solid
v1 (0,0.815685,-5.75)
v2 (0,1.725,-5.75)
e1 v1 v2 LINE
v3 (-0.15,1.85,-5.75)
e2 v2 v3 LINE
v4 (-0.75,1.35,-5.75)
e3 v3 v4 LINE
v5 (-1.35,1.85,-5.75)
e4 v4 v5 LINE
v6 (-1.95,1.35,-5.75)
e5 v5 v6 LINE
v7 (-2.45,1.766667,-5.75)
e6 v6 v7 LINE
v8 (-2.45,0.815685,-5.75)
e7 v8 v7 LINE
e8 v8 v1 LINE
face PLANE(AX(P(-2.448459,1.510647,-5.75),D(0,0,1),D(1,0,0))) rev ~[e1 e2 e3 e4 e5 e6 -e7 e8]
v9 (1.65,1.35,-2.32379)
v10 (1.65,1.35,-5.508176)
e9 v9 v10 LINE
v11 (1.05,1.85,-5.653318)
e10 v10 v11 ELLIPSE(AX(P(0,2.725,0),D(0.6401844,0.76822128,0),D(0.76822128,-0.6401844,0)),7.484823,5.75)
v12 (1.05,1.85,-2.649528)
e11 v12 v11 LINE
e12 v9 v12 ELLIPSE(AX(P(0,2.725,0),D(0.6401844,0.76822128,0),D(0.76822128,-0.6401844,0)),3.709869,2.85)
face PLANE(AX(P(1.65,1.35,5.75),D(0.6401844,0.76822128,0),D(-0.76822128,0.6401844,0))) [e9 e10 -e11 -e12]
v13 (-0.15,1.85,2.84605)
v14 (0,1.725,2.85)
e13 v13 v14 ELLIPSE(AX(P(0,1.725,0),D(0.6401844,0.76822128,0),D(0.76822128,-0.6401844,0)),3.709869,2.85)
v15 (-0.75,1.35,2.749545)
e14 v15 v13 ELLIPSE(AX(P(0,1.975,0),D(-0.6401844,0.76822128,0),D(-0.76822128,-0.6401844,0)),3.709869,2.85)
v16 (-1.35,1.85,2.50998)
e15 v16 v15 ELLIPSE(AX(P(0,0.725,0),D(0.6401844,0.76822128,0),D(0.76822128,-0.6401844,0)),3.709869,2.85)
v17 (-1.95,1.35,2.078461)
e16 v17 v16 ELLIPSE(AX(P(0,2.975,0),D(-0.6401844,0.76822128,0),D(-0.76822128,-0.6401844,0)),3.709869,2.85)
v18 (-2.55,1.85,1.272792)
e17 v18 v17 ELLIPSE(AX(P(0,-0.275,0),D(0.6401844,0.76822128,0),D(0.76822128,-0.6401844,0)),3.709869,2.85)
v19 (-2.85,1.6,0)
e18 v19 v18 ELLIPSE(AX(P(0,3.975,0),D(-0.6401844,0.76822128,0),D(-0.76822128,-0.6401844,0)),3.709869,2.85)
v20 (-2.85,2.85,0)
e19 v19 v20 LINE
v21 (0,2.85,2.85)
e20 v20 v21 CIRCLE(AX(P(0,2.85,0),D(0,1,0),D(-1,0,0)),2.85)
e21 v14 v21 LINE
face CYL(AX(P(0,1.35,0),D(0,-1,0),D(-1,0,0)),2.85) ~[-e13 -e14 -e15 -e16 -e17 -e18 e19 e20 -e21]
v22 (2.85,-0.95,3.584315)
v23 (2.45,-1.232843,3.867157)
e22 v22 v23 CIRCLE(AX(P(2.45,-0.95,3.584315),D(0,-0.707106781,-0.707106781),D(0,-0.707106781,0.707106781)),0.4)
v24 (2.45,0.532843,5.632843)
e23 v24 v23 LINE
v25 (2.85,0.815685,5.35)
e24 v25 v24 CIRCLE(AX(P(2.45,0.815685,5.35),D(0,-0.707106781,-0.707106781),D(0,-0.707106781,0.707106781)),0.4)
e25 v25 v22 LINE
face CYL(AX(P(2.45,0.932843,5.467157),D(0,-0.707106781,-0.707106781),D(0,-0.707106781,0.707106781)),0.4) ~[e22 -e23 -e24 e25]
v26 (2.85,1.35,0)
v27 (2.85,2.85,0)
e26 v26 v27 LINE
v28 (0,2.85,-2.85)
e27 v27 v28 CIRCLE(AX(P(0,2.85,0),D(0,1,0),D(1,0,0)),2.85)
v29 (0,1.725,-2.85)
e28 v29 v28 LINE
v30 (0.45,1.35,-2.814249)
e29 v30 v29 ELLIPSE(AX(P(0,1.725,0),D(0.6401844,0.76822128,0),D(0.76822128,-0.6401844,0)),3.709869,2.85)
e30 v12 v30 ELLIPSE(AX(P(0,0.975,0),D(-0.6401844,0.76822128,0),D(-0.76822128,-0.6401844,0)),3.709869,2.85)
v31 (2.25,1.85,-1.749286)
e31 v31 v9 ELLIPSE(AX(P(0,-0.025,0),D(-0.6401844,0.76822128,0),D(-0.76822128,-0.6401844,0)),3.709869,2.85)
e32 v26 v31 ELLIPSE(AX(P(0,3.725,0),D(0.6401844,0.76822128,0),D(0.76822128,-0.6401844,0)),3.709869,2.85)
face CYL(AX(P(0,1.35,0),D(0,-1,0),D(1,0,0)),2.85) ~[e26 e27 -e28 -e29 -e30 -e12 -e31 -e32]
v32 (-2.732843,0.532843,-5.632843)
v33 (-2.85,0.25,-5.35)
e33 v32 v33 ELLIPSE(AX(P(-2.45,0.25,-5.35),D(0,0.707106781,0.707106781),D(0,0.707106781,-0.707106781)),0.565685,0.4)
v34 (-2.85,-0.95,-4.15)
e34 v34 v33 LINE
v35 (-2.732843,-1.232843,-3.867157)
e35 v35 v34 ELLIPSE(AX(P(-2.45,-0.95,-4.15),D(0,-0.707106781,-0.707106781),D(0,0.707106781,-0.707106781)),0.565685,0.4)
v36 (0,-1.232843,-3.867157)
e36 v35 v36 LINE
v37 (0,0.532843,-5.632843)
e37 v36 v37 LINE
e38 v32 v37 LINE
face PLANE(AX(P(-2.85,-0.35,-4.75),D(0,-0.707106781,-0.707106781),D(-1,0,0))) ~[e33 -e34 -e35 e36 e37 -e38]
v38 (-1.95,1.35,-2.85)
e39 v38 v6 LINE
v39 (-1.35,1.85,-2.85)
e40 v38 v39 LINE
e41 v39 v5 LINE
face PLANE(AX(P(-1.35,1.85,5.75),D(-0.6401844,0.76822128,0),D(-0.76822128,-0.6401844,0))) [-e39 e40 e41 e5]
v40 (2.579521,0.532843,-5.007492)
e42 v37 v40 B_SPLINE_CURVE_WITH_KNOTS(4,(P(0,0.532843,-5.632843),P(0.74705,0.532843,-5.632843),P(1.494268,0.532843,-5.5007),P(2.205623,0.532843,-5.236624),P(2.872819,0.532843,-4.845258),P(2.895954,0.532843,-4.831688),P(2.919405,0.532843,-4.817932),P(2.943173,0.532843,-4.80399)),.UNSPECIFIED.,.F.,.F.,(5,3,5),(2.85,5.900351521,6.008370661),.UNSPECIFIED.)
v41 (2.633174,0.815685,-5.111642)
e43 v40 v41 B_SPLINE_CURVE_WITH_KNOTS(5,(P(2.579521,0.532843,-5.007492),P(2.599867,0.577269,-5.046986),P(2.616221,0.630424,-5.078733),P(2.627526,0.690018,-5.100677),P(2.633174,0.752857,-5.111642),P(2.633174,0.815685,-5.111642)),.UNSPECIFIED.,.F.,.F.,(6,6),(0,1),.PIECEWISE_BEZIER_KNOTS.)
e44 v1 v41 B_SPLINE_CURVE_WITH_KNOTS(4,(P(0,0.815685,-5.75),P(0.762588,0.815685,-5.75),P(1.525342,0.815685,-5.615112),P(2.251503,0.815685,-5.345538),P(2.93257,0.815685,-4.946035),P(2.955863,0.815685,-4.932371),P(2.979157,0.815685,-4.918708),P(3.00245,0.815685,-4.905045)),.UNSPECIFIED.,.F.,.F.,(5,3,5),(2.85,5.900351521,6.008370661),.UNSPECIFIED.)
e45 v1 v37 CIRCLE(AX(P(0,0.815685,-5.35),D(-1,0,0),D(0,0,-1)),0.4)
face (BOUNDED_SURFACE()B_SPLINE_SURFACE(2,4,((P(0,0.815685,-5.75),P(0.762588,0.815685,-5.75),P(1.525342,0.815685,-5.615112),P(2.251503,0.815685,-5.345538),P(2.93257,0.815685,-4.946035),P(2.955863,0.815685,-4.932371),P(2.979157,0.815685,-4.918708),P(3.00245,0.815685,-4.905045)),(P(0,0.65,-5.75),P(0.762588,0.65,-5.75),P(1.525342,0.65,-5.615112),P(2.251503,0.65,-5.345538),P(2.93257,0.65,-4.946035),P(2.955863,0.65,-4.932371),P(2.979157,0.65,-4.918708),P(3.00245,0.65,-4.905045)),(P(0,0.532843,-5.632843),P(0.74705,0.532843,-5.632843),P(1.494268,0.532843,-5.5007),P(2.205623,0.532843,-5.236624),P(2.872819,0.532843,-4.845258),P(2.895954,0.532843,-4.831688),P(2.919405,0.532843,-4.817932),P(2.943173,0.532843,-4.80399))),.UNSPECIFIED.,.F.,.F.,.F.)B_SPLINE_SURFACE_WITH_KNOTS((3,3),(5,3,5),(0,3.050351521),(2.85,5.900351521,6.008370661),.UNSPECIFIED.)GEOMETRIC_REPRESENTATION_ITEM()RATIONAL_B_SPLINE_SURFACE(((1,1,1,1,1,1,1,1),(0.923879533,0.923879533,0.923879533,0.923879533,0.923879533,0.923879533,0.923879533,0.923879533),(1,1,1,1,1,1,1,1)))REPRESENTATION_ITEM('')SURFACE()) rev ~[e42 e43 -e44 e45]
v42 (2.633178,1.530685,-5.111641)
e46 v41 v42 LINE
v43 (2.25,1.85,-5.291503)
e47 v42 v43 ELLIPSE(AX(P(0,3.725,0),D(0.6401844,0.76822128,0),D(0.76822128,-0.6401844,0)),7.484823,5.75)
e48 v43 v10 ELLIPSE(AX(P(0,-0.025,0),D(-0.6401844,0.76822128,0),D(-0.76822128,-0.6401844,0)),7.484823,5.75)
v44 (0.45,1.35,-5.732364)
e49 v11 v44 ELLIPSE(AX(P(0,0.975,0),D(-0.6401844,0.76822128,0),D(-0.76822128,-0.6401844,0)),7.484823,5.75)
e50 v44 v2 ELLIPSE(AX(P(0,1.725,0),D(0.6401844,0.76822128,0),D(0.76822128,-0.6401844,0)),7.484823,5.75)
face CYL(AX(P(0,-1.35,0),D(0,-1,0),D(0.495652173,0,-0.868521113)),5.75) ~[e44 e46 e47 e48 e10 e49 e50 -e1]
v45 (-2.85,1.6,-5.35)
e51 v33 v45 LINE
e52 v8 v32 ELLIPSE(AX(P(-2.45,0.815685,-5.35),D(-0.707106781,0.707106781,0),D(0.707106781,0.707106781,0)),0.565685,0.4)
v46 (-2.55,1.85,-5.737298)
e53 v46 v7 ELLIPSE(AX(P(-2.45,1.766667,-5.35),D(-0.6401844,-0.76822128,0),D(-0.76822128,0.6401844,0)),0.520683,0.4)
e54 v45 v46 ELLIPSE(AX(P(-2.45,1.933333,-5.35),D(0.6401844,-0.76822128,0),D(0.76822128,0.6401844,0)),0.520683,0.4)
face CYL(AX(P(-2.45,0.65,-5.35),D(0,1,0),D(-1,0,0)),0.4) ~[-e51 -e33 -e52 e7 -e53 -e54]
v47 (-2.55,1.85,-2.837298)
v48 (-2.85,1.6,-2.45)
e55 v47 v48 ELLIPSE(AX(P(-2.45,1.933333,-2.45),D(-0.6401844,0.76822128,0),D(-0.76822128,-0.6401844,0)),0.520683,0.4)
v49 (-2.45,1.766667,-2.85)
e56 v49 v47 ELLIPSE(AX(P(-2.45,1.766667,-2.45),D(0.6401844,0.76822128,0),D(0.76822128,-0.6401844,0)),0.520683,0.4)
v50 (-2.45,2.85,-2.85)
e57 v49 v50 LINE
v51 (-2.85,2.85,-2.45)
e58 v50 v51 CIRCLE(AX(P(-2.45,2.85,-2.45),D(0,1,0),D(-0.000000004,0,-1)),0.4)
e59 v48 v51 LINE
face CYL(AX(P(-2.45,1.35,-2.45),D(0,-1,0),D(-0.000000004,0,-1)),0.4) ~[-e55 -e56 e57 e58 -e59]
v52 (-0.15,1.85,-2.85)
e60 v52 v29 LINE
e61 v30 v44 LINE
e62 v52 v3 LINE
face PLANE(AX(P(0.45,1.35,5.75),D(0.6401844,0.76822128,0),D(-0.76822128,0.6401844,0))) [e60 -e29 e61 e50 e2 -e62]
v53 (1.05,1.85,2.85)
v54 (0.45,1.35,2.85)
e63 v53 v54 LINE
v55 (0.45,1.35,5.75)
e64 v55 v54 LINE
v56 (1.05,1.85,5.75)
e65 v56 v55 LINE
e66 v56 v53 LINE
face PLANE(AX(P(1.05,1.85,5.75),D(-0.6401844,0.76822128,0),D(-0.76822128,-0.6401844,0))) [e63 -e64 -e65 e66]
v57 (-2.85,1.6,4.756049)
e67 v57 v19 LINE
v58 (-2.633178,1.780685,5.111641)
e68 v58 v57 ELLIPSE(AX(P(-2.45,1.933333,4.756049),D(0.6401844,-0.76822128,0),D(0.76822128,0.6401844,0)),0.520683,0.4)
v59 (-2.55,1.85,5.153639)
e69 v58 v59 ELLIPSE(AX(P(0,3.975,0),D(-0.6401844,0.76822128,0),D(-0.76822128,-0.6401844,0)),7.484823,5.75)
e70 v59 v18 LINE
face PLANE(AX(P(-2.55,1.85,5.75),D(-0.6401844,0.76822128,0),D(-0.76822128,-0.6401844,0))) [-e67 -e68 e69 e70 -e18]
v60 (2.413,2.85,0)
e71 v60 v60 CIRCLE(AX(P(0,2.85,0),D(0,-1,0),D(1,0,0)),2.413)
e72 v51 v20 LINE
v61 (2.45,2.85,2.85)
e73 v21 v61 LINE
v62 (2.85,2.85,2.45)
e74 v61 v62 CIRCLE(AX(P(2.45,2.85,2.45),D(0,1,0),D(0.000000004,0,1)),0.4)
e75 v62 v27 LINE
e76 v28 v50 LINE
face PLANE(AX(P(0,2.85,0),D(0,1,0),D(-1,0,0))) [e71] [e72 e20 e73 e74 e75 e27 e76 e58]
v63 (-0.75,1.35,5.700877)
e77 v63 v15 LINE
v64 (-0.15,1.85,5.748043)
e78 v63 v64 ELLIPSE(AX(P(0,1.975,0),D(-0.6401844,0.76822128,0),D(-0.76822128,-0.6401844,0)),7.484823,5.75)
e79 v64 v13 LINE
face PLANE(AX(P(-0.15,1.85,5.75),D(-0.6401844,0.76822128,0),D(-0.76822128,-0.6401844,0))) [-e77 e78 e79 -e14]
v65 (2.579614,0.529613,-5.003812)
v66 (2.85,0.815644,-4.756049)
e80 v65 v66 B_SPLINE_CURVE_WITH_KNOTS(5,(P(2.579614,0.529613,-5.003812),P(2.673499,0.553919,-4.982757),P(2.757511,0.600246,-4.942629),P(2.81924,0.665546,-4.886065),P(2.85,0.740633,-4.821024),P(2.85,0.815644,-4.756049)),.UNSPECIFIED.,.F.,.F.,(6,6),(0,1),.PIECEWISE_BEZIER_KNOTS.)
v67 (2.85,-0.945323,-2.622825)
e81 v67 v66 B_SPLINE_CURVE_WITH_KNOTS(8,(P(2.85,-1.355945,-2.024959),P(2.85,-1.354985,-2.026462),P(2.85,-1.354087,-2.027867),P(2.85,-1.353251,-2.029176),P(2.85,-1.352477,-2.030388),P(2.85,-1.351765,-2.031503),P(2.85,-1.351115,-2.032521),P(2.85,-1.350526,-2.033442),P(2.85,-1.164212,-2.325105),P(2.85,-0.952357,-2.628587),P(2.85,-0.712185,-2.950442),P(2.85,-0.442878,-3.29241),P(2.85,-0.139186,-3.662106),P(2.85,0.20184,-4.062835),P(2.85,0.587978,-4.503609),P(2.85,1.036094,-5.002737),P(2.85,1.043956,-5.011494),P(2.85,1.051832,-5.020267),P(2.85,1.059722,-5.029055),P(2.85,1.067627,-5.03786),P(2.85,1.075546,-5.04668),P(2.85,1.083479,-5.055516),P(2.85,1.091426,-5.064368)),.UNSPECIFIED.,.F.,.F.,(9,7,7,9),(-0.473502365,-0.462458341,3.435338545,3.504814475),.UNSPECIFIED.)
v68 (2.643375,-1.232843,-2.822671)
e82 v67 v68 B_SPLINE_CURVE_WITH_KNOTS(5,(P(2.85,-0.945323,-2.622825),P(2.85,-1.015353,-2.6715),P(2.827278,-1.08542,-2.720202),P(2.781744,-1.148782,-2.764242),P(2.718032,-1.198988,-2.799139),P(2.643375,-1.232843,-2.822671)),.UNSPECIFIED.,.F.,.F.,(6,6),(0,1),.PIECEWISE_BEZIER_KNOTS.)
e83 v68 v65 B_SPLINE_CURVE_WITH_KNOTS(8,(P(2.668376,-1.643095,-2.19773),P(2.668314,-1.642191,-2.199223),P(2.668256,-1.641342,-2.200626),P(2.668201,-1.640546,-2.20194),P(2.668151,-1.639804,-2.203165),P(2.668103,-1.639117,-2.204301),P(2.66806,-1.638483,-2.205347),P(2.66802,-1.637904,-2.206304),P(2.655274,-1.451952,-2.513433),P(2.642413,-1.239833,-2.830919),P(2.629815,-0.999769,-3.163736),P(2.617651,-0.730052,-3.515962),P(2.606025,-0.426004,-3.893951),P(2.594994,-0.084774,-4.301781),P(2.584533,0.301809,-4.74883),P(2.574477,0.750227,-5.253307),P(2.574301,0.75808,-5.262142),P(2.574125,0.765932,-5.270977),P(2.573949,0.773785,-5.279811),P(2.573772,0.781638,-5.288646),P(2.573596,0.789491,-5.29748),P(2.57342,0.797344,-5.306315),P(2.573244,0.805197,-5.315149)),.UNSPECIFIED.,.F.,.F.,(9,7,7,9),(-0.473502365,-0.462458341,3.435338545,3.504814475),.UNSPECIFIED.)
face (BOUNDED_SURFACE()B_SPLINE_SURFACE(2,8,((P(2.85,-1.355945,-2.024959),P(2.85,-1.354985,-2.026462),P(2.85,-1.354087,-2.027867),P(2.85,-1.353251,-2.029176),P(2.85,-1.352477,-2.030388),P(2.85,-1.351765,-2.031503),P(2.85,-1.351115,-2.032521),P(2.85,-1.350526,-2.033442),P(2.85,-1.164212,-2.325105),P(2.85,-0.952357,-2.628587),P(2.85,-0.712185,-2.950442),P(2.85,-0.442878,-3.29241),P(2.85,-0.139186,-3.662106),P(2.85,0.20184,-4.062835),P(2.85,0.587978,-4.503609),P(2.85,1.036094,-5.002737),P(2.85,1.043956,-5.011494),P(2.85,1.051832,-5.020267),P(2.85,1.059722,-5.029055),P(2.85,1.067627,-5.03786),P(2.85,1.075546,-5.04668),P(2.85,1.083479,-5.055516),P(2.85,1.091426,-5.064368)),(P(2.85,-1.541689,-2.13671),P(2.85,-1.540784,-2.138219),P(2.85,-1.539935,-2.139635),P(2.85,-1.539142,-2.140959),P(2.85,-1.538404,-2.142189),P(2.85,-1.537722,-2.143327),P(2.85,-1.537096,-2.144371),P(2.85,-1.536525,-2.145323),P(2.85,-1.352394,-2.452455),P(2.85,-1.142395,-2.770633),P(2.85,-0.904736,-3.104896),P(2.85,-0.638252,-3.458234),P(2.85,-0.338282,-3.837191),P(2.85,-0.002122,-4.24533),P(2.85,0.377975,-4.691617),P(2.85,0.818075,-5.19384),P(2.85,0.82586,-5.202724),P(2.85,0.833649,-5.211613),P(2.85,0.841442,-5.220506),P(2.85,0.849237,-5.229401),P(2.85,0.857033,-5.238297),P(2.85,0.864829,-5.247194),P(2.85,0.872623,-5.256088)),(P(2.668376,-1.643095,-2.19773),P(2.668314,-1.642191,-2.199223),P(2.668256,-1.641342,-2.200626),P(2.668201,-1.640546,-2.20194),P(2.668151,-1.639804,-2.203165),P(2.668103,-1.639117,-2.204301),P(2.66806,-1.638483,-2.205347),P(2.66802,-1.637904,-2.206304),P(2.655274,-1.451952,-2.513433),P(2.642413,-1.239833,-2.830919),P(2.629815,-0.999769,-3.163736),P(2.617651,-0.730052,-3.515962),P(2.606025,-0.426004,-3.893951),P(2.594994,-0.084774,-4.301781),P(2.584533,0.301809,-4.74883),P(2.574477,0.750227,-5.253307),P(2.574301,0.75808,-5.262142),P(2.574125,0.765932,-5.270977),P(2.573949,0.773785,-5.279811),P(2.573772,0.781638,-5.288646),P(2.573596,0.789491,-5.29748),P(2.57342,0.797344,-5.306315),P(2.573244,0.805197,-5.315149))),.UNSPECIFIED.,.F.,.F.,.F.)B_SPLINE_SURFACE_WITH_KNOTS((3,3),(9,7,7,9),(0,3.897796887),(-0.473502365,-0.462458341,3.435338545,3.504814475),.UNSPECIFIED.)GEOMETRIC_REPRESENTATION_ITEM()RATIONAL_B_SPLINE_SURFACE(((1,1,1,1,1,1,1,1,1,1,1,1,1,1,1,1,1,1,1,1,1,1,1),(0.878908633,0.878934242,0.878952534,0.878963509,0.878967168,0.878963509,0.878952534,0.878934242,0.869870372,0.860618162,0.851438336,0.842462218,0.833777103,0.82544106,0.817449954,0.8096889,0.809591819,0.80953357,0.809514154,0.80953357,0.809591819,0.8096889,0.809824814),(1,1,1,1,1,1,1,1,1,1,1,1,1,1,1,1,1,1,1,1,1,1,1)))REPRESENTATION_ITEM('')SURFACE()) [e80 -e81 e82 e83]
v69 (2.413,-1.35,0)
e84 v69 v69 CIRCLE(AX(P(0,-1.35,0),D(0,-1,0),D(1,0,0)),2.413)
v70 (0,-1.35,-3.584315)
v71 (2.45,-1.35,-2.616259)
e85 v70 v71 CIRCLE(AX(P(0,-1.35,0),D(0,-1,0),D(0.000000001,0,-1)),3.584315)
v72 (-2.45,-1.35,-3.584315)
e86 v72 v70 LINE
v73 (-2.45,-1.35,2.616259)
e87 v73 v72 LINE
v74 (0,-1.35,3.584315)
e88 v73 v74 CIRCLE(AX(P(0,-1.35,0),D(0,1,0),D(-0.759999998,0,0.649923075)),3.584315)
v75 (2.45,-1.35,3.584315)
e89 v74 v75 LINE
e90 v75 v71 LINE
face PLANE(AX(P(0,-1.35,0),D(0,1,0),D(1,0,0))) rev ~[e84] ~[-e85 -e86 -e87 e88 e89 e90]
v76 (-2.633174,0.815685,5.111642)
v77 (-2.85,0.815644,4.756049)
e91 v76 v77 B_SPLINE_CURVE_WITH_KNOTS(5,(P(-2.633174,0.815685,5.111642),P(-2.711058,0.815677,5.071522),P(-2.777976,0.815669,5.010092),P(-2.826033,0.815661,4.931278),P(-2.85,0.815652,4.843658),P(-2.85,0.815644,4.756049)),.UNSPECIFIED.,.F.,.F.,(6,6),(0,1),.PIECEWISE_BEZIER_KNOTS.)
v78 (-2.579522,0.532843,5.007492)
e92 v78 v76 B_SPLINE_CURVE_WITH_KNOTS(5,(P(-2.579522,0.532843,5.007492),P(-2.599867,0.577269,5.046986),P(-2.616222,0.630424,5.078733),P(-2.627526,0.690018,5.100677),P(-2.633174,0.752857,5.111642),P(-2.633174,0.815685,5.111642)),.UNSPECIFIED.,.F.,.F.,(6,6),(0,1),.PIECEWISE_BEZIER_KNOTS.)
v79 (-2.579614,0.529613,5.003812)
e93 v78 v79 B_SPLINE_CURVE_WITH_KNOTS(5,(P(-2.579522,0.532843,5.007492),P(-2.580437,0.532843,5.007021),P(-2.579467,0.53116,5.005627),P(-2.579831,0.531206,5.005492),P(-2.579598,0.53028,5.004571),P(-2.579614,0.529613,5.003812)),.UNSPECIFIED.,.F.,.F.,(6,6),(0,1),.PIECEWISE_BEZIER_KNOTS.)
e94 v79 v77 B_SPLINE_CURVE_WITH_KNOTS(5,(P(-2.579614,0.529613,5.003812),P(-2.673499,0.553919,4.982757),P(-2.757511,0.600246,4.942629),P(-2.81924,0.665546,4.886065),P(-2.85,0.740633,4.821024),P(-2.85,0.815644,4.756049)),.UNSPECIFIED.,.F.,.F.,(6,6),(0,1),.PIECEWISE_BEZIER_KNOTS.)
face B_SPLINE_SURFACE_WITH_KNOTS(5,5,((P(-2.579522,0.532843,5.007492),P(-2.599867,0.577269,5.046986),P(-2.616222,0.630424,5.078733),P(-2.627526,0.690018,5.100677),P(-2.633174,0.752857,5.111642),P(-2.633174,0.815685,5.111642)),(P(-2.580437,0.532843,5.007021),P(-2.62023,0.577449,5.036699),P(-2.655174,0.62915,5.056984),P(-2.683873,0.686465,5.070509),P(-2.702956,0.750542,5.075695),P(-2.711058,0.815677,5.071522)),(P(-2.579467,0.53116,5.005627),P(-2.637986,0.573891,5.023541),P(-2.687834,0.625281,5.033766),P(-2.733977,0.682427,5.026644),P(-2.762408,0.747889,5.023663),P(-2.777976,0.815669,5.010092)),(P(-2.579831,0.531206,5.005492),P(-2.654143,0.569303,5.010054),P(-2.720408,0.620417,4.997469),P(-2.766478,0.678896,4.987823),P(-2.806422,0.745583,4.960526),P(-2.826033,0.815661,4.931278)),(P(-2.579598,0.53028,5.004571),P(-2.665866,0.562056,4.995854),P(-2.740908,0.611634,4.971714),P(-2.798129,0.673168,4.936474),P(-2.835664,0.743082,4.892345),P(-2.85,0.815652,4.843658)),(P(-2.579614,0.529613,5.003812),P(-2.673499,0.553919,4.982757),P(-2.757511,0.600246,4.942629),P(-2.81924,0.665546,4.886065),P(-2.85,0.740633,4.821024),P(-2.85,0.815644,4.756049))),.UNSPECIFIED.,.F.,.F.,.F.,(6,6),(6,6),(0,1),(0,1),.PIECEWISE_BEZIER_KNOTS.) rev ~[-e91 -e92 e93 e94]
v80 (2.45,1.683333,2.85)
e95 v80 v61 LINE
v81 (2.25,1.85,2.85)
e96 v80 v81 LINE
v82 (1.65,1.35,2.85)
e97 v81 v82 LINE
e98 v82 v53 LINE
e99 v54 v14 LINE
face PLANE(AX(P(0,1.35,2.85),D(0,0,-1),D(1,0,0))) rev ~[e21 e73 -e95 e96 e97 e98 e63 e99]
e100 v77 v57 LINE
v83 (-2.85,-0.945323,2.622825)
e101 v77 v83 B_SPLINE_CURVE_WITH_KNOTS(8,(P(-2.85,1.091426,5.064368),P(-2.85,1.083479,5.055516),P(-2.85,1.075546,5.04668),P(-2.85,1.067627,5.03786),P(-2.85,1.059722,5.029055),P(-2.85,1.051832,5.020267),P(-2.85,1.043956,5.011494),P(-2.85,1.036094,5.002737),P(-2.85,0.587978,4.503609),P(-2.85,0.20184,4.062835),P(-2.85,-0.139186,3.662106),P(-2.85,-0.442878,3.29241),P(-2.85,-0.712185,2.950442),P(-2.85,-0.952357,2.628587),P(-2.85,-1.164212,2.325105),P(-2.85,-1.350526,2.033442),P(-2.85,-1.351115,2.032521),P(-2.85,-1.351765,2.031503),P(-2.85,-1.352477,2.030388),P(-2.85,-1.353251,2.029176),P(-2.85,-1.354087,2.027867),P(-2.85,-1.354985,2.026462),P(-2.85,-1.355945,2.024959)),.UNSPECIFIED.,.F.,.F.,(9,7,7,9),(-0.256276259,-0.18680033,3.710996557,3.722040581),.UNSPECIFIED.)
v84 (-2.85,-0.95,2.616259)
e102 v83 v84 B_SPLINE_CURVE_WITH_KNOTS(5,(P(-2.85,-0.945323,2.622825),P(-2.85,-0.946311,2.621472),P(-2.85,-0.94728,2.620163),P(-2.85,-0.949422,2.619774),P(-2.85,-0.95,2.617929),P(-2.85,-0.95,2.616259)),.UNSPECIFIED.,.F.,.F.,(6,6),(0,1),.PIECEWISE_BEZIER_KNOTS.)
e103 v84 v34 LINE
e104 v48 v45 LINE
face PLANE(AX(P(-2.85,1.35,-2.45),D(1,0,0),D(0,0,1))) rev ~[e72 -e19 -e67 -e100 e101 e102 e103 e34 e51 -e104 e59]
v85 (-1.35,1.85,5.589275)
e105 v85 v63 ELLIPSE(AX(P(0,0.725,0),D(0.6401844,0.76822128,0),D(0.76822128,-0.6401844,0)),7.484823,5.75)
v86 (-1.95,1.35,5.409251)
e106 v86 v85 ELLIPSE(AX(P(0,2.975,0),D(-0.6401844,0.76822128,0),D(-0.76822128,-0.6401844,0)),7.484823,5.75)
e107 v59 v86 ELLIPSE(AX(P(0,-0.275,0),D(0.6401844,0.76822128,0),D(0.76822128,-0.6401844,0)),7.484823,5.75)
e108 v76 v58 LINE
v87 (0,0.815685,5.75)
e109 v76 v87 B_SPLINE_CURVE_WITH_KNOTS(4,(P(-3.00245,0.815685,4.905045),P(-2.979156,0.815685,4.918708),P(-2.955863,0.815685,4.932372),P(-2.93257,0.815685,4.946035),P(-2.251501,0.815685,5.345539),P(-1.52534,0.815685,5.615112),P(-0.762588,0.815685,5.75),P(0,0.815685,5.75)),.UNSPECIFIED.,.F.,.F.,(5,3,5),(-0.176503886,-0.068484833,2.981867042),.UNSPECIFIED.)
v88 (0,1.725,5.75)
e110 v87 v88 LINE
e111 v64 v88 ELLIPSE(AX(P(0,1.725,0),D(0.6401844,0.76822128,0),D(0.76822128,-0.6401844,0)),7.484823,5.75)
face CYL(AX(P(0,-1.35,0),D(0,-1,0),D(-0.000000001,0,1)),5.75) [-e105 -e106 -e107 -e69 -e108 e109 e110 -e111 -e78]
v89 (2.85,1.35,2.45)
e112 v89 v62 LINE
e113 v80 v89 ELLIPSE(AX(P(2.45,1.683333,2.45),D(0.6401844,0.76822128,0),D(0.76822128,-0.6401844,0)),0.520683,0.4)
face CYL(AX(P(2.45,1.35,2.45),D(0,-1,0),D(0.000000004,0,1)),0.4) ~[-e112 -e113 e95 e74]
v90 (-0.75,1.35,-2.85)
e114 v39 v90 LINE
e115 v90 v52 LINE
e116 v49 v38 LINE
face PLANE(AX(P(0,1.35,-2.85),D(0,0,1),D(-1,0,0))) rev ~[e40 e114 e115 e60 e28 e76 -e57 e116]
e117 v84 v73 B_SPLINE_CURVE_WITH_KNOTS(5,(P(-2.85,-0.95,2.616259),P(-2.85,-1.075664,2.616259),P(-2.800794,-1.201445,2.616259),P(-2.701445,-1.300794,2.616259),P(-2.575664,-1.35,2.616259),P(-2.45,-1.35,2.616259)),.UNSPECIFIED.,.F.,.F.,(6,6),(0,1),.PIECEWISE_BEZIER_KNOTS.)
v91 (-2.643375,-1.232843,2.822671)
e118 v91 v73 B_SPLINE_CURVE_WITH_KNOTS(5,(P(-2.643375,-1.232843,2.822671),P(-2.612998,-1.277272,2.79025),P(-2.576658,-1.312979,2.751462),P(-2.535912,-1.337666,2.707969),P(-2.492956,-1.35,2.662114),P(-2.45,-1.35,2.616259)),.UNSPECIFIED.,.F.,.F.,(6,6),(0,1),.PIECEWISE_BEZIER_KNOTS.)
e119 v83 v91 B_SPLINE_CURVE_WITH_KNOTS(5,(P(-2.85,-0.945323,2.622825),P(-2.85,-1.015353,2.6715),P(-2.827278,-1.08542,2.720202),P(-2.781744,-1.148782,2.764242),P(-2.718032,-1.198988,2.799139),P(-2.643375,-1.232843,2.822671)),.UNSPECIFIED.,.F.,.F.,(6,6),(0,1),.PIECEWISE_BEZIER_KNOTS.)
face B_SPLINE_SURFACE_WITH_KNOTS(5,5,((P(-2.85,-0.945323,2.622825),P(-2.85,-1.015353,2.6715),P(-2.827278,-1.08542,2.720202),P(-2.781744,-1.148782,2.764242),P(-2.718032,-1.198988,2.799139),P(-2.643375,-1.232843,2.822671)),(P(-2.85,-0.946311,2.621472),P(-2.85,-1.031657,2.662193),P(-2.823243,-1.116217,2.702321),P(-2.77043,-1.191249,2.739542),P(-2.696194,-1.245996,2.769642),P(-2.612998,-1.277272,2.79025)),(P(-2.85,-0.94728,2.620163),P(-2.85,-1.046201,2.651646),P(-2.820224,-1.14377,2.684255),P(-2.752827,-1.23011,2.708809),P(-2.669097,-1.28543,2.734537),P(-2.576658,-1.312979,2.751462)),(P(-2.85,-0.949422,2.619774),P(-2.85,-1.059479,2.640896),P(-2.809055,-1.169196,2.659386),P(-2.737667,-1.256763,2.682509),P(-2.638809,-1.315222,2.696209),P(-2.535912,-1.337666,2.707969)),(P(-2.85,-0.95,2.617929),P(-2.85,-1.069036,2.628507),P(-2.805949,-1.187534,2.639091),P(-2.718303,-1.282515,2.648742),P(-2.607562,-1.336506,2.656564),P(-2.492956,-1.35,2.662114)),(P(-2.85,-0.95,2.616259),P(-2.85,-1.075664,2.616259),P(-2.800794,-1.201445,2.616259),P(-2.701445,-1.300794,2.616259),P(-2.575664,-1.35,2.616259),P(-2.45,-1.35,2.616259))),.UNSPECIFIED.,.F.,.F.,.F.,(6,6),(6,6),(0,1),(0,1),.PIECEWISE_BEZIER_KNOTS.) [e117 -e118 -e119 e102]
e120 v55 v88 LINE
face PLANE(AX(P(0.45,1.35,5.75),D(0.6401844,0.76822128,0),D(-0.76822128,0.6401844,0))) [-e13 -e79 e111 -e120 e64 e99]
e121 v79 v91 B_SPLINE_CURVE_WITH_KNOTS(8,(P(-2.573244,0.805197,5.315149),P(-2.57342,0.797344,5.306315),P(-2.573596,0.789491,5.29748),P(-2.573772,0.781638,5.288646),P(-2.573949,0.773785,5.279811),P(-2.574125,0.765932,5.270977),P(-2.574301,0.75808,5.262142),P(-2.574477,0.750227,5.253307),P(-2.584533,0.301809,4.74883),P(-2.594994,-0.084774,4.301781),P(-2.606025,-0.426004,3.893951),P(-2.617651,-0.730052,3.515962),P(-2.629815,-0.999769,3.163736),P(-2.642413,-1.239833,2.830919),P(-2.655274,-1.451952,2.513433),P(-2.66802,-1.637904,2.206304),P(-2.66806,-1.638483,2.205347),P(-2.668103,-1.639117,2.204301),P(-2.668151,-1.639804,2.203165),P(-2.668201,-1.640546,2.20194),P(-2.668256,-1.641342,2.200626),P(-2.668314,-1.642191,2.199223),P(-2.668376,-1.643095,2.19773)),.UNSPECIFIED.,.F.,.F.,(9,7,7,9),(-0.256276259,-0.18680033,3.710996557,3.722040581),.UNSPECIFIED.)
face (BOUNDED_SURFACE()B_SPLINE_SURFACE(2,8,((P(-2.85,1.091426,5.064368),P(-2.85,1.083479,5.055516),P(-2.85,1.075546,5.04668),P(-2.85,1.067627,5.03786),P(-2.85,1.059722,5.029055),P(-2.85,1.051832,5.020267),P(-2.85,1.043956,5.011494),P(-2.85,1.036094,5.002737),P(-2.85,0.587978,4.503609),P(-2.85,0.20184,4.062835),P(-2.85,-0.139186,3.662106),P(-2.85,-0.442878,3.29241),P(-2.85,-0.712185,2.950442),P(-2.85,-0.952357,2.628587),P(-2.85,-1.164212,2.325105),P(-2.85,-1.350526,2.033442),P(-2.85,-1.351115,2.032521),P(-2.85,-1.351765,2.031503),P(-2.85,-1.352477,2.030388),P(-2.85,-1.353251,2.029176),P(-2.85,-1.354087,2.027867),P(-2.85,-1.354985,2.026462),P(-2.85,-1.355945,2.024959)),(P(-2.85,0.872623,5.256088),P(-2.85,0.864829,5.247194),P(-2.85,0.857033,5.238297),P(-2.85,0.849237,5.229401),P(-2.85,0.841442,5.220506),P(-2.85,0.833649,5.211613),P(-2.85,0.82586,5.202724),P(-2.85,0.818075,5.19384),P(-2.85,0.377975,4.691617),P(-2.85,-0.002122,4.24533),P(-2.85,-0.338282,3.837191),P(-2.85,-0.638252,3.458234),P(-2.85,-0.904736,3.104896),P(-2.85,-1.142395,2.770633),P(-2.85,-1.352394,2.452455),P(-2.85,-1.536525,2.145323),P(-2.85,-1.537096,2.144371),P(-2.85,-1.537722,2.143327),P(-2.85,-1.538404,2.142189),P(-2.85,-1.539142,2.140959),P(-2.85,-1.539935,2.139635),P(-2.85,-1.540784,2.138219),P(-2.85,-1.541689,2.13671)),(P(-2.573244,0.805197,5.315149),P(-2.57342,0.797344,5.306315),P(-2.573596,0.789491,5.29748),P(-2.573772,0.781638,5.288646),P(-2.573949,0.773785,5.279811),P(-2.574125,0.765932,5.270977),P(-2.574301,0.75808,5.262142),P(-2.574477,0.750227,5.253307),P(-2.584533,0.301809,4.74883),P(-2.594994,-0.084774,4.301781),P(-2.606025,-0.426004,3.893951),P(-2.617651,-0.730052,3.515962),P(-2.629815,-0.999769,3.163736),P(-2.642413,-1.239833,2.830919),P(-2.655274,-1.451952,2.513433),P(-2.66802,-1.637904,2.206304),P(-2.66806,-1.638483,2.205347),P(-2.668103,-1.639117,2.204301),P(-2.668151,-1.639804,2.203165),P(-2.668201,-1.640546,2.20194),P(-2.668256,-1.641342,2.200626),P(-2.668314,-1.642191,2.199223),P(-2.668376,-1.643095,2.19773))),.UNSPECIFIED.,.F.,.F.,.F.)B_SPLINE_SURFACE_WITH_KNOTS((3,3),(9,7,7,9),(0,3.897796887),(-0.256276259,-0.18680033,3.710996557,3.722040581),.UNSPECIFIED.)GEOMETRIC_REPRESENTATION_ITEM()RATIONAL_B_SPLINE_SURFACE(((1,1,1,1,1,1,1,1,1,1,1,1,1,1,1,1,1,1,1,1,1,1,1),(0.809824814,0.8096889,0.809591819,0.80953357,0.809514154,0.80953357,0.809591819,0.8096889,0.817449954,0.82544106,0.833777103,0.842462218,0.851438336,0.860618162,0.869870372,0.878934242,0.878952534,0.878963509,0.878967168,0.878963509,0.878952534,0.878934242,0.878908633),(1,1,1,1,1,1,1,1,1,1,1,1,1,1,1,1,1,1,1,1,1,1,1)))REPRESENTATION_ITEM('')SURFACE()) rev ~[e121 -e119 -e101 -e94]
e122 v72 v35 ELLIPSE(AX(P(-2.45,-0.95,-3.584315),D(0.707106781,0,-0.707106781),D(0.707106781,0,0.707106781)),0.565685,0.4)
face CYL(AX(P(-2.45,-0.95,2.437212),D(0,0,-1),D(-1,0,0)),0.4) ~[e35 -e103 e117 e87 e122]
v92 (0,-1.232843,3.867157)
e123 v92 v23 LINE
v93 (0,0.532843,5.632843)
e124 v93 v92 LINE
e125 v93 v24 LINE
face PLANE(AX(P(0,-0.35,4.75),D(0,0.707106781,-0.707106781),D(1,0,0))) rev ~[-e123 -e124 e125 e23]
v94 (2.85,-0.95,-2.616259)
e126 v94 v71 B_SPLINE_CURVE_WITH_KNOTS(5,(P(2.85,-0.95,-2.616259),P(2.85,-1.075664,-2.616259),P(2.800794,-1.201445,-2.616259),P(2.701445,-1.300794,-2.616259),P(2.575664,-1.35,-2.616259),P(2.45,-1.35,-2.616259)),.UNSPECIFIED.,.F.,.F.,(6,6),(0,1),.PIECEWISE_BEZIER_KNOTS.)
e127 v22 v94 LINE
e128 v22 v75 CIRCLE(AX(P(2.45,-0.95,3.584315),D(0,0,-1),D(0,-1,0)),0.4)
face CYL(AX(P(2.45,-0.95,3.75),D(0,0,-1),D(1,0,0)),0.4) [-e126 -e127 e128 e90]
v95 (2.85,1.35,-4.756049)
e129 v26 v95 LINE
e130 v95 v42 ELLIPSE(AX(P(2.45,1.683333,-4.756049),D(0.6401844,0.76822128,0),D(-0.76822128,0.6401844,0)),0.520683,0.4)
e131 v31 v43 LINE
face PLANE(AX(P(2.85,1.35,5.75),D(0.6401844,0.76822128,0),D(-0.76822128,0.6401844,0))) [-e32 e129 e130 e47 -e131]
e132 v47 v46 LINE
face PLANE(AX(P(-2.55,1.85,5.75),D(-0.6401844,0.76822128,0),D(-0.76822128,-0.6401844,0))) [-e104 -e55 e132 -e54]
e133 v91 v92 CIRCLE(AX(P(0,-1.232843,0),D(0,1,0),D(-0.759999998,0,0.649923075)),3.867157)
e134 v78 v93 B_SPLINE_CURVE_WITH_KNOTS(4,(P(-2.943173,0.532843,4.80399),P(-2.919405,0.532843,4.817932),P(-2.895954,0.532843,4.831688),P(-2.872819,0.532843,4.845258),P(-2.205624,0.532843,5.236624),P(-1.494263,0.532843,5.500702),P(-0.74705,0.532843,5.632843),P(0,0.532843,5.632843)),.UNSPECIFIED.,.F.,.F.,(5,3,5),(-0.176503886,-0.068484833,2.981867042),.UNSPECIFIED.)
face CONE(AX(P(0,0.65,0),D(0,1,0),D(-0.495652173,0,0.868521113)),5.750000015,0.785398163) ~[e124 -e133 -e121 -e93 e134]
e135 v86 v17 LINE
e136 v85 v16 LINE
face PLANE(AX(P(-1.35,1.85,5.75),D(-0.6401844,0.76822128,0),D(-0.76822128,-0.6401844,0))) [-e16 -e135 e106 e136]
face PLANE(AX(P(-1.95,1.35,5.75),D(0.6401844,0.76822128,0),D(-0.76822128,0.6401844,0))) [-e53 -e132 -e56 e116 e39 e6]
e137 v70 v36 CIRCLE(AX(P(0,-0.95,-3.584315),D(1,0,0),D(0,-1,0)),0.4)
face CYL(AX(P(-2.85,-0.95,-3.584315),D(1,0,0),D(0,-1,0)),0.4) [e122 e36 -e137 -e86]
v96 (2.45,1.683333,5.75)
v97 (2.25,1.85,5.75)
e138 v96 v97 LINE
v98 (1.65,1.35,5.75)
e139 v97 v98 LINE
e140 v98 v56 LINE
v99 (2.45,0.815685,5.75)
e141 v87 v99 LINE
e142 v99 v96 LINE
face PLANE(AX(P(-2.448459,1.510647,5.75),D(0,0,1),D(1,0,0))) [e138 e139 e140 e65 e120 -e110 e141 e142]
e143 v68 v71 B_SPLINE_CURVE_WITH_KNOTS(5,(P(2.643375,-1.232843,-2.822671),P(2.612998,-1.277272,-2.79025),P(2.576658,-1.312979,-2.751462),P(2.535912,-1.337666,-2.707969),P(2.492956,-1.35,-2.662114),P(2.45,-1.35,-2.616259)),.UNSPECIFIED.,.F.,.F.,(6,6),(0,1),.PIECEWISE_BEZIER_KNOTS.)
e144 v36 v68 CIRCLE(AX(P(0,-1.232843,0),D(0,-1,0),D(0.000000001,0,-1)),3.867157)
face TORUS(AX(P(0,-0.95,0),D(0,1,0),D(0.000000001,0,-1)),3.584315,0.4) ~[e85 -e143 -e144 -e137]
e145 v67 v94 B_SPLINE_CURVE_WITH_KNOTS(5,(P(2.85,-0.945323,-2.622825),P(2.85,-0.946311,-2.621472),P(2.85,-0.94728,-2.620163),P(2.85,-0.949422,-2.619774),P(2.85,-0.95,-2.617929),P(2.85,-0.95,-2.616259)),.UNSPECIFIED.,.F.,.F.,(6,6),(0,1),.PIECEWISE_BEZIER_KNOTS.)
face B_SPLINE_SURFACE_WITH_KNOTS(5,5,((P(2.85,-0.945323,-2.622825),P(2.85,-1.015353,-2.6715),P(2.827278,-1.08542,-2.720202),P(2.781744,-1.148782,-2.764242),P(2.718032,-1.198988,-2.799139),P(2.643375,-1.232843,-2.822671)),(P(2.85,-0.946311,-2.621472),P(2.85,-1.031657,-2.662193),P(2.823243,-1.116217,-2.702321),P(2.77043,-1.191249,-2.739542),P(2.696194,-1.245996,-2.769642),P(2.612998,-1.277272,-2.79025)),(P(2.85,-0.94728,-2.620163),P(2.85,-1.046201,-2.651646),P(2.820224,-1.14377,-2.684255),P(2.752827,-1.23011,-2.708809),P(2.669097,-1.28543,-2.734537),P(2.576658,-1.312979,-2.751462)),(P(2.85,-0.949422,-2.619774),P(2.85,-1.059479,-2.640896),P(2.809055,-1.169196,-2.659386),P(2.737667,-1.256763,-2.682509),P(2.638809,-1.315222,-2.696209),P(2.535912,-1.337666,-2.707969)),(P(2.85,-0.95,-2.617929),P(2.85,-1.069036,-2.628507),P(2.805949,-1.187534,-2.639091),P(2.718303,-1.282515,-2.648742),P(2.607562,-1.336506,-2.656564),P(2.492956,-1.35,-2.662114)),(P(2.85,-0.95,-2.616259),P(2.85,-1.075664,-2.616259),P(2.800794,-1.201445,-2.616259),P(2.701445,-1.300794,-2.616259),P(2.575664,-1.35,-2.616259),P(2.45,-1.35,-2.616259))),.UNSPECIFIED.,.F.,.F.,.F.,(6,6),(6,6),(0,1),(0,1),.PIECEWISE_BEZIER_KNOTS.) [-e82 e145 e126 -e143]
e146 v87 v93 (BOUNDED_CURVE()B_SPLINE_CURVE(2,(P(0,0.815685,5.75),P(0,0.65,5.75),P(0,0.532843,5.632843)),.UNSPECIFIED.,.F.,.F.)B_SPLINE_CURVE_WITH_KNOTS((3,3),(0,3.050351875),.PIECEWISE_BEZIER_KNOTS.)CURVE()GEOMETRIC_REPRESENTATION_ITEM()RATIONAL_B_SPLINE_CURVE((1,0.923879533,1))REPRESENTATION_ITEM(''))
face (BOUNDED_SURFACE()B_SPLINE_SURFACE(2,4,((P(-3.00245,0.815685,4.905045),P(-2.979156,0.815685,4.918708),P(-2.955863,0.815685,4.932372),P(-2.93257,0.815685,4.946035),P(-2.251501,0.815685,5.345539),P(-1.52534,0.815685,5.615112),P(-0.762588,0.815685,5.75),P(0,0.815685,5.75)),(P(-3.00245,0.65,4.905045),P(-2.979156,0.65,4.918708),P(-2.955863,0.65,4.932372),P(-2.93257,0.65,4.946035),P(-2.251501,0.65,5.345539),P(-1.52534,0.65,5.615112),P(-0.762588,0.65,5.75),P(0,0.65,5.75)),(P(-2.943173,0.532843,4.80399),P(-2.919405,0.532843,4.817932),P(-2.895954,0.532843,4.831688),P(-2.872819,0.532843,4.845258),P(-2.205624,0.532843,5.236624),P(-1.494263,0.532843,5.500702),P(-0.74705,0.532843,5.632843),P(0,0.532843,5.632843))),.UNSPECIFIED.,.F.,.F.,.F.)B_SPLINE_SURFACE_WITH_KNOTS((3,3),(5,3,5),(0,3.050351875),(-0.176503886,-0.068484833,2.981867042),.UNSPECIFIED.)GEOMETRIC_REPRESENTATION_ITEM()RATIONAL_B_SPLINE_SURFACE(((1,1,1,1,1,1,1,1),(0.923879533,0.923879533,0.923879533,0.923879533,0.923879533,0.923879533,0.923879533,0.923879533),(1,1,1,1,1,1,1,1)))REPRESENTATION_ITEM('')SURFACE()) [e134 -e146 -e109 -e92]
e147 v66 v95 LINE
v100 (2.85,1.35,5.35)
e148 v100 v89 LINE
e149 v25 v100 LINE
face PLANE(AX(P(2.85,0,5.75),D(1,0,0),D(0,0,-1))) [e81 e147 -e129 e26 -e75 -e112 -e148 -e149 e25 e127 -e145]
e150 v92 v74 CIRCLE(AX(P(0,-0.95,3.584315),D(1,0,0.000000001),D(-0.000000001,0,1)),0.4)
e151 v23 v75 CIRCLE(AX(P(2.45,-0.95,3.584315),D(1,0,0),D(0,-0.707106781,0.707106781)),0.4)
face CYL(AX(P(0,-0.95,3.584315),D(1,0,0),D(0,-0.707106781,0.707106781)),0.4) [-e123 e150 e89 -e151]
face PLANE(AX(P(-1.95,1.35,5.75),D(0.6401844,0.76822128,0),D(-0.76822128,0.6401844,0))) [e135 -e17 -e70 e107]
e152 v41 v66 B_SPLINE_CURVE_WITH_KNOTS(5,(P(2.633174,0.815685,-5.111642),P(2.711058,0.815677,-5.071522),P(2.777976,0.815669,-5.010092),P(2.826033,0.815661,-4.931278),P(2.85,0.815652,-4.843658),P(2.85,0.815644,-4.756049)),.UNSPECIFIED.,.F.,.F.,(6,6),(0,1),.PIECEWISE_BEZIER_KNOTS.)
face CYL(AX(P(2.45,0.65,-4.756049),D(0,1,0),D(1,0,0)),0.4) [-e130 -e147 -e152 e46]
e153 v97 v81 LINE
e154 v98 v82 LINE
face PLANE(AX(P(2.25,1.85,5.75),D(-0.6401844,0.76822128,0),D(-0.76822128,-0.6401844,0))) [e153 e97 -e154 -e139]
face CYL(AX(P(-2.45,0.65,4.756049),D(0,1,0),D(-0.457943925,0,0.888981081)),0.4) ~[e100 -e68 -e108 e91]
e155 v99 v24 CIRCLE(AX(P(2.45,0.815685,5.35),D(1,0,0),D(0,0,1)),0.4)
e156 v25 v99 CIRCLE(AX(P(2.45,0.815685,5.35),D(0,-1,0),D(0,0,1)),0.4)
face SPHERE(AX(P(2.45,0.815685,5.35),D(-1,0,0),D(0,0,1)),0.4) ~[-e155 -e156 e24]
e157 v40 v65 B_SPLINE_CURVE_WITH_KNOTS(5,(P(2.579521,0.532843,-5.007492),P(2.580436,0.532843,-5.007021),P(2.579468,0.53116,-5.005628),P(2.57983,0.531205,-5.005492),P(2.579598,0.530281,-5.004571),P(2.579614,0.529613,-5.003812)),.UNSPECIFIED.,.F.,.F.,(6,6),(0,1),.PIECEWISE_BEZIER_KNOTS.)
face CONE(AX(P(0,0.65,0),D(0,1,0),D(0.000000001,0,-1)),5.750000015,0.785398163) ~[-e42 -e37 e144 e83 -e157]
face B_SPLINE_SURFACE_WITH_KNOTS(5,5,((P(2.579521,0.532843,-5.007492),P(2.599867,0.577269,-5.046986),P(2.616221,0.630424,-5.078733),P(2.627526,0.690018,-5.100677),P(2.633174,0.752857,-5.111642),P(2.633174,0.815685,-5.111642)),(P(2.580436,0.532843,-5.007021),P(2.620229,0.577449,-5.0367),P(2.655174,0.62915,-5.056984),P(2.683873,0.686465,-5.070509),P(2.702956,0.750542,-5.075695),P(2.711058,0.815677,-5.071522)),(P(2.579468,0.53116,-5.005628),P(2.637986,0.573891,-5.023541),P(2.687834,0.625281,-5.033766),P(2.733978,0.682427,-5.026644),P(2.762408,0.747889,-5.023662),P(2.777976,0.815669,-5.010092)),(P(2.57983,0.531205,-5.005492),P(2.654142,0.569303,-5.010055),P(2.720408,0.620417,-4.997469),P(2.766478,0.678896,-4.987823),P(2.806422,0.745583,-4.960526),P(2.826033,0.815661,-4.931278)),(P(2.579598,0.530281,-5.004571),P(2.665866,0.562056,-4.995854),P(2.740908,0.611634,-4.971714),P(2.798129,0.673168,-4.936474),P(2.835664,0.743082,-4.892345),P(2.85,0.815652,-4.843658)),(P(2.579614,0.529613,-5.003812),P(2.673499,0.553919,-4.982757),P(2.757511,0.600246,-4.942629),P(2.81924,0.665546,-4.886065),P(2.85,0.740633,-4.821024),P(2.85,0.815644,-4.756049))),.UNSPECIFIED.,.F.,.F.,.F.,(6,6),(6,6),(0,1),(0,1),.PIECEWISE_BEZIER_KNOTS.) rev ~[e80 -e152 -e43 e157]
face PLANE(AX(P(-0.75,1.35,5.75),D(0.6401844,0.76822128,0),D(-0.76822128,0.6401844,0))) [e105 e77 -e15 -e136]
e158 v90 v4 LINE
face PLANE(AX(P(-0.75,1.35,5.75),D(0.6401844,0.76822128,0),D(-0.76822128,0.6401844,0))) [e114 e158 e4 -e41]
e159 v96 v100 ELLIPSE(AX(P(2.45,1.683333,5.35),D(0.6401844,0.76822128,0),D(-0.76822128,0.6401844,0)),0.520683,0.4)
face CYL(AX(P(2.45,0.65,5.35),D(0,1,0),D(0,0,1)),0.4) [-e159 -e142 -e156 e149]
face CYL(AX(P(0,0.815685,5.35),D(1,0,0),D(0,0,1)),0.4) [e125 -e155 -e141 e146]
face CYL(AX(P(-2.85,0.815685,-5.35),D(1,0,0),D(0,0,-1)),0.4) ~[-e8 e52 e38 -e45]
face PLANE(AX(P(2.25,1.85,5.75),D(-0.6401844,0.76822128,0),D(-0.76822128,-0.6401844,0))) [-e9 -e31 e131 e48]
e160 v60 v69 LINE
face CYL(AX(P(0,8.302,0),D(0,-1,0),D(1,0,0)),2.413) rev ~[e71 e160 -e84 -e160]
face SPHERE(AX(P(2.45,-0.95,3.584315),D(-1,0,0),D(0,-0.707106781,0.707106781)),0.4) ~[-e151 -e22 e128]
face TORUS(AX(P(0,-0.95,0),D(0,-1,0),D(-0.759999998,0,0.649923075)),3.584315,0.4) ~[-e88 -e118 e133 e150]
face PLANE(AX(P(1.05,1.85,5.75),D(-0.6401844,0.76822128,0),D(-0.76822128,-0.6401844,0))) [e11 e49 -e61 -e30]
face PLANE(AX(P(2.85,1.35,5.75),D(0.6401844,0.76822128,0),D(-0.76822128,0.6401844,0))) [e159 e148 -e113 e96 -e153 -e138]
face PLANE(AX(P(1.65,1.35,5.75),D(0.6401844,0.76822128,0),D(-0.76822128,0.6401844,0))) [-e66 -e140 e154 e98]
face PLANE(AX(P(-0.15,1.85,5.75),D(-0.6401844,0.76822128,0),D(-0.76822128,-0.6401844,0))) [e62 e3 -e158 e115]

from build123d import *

# Parameters (mm, degrees)
SKETCH1_W                        = 5.7
SKETCH1_H                        = 11.5
BOSS_EXTRUDE1_DEPTH              = 1.35
BOSS_EXTRUDE2_DEPTH              = 11.5
BOSS_EXTRUDE4_DEPTH              = 1.5
CUT_EXTRUDE3_DEPTH               = 3.5
CHAMFER2_SIZE                    = 2
F_10_32_TAPPED_HOLE3_D           = 4.0386
F_10_32_TAPPED_HOLE3_DEPTH       = 12.02944
F_10_32_TAPPED_HOLE3_CBORE_D     = 4.826
F_10_32_TAPPED_HOLE3_CBORE_DEPTH = 9.652
F_10_32_TAPPED_HOLE3_TIP         = 1.213317848
FILLET2_R                        = 0.4


with BuildPart() as part:
    # Sketch1 → Boss-Extrude1 (new, symmetric)
    with BuildSketch(Plane(origin=(0, 0, 0), x_dir=(1, 0, 0), z_dir=(0, 1, 0))):
        Rectangle(SKETCH1_W, SKETCH1_H)
    extrude(amount=BOSS_EXTRUDE1_DEPTH, both=True)

    # Sketch2 → Boss-Extrude2 (add)
    with BuildSketch(Plane.XY.offset(5.75)):
        Polygon((-2.85, 1.35), (-1.95, 1.35), (-2.55, 1.85), (-2.85, 1.6), align=None)
        Polygon((-1.95, 1.35), (-0.75, 1.35), (-1.35, 1.85), align=None)
        Polygon((-0.75, 1.35), (0.45, 1.35), (-0.15, 1.85), align=None)
        Polygon((0.45, 1.35), (1.65, 1.35), (1.05, 1.85), align=None)
        Polygon((2.85, 1.35), (2.25, 1.85), (1.65, 1.35), align=None)
    extrude(amount=-BOSS_EXTRUDE2_DEPTH)

    # Sketch7 → Boss-Extrude4 (add)
    with BuildSketch(Plane.XZ.offset(-1.35)):
        with BuildLine():
            Line((0, 2.85), (2.45, 2.85))
            ThreePointArc((2.45, 2.85), (2.732842712, 2.732842712), (2.85, 2.45))
            Line((2.85, 2.45), (2.85, 0))
            ThreePointArc((2.85, 0), (2.015254326, -2.015254326), (0, -2.85))
            Line((0, -2.85), (-2.45, -2.85))
            ThreePointArc((-2.45, -2.85), (-2.732842712, -2.732842712), (-2.85, -2.45))
            Line((-2.85, -2.45), (-2.85, 0))
            ThreePointArc((-2.85, 0), (-2.015254326, 2.015254326), (0, 2.85))
        make_face()
    extrude(amount=-BOSS_EXTRUDE4_DEPTH)

    # Sketch8 → Cut-Extrude3 (cut)
    with BuildSketch(Plane.XZ.offset(1.35)):
        with BuildLine():
            Line((-2.85, 4.993996396), (-2.85, 5.75))
            Line((-2.85, 5.75), (0, 5.75))
            ThreePointArc((0, 5.75), (-1.474282999, 5.557786397), (-2.85, 4.993996396))
        make_face()
        with BuildLine():
            Line((0, -5.75), (2.85, -5.75))
            Line((2.85, -5.75), (2.85, -4.993996396))
            ThreePointArc((2.85, -4.993996396), (1.474282999, -5.557786397), (0, -5.75))
        make_face()
    extrude(amount=-CUT_EXTRUDE3_DEPTH, mode=Mode.SUBTRACT)

    # Chamfer2
    chamfer2_edges = [part.edges().sort_by_distance(p)[0] for p in [
        (1.425, -1.35, 5.75),
        (-1.474282999, -1.35, 5.557786397),
        (-1.425, -1.35, -5.75),
        (1.474282999, -1.35, -5.557786397),
    ]]
    chamfer(chamfer2_edges, length=CHAMFER2_SIZE)

    # #10-32 Tapped Hole3
    with Locations(Plane.XZ.offset(1.35)):
        with Locations((0, 0)):
            CounterBoreHole(F_10_32_TAPPED_HOLE3_D / 2, F_10_32_TAPPED_HOLE3_CBORE_D / 2, F_10_32_TAPPED_HOLE3_CBORE_DEPTH, depth=F_10_32_TAPPED_HOLE3_DEPTH)
            with Locations((0, 0, -(F_10_32_TAPPED_HOLE3_DEPTH + F_10_32_TAPPED_HOLE3_TIP / 2))):  # 118° drill point
                Cone(0, F_10_32_TAPPED_HOLE3_D / 2, F_10_32_TAPPED_HOLE3_TIP, mode=Mode.SUBTRACT)

    # Fillet2
    fillet2_edges = [part.edges().sort_by_distance(p)[0] for p in [
        (1.425, 0.65, 5.75),
        (1.425, -1.35, 3.75),
        (-1.425, 0.65, -5.75),
        (-1.425, -1.35, -3.75),
        (-1.474282999, 0.65, 5.557786397),
        (-1.568909939, -1.35, 3.406027246),
        (-2.85, -0.391617372, 3.747848312),
        (1.474282999, 0.65, -5.557786397),
        (1.568909939, -1.35, -3.406027246),
        (2.85, -0.391617372, -3.747848312),
        (2.85, 1, 5.75),
        (2.85, -0.35, 4.75),
        (-2.85, 1.125, 4.993996396),
        (-2.85, -1.35, -0.656394239),
        (-2.85, 1.125, -5.75),
        (2.85, -1.35, 0.656394239),
        (2.85, 1, -4.993996396),
    ]]
    fillet(fillet2_edges, radius=FILLET2_R)


solid = part.part
